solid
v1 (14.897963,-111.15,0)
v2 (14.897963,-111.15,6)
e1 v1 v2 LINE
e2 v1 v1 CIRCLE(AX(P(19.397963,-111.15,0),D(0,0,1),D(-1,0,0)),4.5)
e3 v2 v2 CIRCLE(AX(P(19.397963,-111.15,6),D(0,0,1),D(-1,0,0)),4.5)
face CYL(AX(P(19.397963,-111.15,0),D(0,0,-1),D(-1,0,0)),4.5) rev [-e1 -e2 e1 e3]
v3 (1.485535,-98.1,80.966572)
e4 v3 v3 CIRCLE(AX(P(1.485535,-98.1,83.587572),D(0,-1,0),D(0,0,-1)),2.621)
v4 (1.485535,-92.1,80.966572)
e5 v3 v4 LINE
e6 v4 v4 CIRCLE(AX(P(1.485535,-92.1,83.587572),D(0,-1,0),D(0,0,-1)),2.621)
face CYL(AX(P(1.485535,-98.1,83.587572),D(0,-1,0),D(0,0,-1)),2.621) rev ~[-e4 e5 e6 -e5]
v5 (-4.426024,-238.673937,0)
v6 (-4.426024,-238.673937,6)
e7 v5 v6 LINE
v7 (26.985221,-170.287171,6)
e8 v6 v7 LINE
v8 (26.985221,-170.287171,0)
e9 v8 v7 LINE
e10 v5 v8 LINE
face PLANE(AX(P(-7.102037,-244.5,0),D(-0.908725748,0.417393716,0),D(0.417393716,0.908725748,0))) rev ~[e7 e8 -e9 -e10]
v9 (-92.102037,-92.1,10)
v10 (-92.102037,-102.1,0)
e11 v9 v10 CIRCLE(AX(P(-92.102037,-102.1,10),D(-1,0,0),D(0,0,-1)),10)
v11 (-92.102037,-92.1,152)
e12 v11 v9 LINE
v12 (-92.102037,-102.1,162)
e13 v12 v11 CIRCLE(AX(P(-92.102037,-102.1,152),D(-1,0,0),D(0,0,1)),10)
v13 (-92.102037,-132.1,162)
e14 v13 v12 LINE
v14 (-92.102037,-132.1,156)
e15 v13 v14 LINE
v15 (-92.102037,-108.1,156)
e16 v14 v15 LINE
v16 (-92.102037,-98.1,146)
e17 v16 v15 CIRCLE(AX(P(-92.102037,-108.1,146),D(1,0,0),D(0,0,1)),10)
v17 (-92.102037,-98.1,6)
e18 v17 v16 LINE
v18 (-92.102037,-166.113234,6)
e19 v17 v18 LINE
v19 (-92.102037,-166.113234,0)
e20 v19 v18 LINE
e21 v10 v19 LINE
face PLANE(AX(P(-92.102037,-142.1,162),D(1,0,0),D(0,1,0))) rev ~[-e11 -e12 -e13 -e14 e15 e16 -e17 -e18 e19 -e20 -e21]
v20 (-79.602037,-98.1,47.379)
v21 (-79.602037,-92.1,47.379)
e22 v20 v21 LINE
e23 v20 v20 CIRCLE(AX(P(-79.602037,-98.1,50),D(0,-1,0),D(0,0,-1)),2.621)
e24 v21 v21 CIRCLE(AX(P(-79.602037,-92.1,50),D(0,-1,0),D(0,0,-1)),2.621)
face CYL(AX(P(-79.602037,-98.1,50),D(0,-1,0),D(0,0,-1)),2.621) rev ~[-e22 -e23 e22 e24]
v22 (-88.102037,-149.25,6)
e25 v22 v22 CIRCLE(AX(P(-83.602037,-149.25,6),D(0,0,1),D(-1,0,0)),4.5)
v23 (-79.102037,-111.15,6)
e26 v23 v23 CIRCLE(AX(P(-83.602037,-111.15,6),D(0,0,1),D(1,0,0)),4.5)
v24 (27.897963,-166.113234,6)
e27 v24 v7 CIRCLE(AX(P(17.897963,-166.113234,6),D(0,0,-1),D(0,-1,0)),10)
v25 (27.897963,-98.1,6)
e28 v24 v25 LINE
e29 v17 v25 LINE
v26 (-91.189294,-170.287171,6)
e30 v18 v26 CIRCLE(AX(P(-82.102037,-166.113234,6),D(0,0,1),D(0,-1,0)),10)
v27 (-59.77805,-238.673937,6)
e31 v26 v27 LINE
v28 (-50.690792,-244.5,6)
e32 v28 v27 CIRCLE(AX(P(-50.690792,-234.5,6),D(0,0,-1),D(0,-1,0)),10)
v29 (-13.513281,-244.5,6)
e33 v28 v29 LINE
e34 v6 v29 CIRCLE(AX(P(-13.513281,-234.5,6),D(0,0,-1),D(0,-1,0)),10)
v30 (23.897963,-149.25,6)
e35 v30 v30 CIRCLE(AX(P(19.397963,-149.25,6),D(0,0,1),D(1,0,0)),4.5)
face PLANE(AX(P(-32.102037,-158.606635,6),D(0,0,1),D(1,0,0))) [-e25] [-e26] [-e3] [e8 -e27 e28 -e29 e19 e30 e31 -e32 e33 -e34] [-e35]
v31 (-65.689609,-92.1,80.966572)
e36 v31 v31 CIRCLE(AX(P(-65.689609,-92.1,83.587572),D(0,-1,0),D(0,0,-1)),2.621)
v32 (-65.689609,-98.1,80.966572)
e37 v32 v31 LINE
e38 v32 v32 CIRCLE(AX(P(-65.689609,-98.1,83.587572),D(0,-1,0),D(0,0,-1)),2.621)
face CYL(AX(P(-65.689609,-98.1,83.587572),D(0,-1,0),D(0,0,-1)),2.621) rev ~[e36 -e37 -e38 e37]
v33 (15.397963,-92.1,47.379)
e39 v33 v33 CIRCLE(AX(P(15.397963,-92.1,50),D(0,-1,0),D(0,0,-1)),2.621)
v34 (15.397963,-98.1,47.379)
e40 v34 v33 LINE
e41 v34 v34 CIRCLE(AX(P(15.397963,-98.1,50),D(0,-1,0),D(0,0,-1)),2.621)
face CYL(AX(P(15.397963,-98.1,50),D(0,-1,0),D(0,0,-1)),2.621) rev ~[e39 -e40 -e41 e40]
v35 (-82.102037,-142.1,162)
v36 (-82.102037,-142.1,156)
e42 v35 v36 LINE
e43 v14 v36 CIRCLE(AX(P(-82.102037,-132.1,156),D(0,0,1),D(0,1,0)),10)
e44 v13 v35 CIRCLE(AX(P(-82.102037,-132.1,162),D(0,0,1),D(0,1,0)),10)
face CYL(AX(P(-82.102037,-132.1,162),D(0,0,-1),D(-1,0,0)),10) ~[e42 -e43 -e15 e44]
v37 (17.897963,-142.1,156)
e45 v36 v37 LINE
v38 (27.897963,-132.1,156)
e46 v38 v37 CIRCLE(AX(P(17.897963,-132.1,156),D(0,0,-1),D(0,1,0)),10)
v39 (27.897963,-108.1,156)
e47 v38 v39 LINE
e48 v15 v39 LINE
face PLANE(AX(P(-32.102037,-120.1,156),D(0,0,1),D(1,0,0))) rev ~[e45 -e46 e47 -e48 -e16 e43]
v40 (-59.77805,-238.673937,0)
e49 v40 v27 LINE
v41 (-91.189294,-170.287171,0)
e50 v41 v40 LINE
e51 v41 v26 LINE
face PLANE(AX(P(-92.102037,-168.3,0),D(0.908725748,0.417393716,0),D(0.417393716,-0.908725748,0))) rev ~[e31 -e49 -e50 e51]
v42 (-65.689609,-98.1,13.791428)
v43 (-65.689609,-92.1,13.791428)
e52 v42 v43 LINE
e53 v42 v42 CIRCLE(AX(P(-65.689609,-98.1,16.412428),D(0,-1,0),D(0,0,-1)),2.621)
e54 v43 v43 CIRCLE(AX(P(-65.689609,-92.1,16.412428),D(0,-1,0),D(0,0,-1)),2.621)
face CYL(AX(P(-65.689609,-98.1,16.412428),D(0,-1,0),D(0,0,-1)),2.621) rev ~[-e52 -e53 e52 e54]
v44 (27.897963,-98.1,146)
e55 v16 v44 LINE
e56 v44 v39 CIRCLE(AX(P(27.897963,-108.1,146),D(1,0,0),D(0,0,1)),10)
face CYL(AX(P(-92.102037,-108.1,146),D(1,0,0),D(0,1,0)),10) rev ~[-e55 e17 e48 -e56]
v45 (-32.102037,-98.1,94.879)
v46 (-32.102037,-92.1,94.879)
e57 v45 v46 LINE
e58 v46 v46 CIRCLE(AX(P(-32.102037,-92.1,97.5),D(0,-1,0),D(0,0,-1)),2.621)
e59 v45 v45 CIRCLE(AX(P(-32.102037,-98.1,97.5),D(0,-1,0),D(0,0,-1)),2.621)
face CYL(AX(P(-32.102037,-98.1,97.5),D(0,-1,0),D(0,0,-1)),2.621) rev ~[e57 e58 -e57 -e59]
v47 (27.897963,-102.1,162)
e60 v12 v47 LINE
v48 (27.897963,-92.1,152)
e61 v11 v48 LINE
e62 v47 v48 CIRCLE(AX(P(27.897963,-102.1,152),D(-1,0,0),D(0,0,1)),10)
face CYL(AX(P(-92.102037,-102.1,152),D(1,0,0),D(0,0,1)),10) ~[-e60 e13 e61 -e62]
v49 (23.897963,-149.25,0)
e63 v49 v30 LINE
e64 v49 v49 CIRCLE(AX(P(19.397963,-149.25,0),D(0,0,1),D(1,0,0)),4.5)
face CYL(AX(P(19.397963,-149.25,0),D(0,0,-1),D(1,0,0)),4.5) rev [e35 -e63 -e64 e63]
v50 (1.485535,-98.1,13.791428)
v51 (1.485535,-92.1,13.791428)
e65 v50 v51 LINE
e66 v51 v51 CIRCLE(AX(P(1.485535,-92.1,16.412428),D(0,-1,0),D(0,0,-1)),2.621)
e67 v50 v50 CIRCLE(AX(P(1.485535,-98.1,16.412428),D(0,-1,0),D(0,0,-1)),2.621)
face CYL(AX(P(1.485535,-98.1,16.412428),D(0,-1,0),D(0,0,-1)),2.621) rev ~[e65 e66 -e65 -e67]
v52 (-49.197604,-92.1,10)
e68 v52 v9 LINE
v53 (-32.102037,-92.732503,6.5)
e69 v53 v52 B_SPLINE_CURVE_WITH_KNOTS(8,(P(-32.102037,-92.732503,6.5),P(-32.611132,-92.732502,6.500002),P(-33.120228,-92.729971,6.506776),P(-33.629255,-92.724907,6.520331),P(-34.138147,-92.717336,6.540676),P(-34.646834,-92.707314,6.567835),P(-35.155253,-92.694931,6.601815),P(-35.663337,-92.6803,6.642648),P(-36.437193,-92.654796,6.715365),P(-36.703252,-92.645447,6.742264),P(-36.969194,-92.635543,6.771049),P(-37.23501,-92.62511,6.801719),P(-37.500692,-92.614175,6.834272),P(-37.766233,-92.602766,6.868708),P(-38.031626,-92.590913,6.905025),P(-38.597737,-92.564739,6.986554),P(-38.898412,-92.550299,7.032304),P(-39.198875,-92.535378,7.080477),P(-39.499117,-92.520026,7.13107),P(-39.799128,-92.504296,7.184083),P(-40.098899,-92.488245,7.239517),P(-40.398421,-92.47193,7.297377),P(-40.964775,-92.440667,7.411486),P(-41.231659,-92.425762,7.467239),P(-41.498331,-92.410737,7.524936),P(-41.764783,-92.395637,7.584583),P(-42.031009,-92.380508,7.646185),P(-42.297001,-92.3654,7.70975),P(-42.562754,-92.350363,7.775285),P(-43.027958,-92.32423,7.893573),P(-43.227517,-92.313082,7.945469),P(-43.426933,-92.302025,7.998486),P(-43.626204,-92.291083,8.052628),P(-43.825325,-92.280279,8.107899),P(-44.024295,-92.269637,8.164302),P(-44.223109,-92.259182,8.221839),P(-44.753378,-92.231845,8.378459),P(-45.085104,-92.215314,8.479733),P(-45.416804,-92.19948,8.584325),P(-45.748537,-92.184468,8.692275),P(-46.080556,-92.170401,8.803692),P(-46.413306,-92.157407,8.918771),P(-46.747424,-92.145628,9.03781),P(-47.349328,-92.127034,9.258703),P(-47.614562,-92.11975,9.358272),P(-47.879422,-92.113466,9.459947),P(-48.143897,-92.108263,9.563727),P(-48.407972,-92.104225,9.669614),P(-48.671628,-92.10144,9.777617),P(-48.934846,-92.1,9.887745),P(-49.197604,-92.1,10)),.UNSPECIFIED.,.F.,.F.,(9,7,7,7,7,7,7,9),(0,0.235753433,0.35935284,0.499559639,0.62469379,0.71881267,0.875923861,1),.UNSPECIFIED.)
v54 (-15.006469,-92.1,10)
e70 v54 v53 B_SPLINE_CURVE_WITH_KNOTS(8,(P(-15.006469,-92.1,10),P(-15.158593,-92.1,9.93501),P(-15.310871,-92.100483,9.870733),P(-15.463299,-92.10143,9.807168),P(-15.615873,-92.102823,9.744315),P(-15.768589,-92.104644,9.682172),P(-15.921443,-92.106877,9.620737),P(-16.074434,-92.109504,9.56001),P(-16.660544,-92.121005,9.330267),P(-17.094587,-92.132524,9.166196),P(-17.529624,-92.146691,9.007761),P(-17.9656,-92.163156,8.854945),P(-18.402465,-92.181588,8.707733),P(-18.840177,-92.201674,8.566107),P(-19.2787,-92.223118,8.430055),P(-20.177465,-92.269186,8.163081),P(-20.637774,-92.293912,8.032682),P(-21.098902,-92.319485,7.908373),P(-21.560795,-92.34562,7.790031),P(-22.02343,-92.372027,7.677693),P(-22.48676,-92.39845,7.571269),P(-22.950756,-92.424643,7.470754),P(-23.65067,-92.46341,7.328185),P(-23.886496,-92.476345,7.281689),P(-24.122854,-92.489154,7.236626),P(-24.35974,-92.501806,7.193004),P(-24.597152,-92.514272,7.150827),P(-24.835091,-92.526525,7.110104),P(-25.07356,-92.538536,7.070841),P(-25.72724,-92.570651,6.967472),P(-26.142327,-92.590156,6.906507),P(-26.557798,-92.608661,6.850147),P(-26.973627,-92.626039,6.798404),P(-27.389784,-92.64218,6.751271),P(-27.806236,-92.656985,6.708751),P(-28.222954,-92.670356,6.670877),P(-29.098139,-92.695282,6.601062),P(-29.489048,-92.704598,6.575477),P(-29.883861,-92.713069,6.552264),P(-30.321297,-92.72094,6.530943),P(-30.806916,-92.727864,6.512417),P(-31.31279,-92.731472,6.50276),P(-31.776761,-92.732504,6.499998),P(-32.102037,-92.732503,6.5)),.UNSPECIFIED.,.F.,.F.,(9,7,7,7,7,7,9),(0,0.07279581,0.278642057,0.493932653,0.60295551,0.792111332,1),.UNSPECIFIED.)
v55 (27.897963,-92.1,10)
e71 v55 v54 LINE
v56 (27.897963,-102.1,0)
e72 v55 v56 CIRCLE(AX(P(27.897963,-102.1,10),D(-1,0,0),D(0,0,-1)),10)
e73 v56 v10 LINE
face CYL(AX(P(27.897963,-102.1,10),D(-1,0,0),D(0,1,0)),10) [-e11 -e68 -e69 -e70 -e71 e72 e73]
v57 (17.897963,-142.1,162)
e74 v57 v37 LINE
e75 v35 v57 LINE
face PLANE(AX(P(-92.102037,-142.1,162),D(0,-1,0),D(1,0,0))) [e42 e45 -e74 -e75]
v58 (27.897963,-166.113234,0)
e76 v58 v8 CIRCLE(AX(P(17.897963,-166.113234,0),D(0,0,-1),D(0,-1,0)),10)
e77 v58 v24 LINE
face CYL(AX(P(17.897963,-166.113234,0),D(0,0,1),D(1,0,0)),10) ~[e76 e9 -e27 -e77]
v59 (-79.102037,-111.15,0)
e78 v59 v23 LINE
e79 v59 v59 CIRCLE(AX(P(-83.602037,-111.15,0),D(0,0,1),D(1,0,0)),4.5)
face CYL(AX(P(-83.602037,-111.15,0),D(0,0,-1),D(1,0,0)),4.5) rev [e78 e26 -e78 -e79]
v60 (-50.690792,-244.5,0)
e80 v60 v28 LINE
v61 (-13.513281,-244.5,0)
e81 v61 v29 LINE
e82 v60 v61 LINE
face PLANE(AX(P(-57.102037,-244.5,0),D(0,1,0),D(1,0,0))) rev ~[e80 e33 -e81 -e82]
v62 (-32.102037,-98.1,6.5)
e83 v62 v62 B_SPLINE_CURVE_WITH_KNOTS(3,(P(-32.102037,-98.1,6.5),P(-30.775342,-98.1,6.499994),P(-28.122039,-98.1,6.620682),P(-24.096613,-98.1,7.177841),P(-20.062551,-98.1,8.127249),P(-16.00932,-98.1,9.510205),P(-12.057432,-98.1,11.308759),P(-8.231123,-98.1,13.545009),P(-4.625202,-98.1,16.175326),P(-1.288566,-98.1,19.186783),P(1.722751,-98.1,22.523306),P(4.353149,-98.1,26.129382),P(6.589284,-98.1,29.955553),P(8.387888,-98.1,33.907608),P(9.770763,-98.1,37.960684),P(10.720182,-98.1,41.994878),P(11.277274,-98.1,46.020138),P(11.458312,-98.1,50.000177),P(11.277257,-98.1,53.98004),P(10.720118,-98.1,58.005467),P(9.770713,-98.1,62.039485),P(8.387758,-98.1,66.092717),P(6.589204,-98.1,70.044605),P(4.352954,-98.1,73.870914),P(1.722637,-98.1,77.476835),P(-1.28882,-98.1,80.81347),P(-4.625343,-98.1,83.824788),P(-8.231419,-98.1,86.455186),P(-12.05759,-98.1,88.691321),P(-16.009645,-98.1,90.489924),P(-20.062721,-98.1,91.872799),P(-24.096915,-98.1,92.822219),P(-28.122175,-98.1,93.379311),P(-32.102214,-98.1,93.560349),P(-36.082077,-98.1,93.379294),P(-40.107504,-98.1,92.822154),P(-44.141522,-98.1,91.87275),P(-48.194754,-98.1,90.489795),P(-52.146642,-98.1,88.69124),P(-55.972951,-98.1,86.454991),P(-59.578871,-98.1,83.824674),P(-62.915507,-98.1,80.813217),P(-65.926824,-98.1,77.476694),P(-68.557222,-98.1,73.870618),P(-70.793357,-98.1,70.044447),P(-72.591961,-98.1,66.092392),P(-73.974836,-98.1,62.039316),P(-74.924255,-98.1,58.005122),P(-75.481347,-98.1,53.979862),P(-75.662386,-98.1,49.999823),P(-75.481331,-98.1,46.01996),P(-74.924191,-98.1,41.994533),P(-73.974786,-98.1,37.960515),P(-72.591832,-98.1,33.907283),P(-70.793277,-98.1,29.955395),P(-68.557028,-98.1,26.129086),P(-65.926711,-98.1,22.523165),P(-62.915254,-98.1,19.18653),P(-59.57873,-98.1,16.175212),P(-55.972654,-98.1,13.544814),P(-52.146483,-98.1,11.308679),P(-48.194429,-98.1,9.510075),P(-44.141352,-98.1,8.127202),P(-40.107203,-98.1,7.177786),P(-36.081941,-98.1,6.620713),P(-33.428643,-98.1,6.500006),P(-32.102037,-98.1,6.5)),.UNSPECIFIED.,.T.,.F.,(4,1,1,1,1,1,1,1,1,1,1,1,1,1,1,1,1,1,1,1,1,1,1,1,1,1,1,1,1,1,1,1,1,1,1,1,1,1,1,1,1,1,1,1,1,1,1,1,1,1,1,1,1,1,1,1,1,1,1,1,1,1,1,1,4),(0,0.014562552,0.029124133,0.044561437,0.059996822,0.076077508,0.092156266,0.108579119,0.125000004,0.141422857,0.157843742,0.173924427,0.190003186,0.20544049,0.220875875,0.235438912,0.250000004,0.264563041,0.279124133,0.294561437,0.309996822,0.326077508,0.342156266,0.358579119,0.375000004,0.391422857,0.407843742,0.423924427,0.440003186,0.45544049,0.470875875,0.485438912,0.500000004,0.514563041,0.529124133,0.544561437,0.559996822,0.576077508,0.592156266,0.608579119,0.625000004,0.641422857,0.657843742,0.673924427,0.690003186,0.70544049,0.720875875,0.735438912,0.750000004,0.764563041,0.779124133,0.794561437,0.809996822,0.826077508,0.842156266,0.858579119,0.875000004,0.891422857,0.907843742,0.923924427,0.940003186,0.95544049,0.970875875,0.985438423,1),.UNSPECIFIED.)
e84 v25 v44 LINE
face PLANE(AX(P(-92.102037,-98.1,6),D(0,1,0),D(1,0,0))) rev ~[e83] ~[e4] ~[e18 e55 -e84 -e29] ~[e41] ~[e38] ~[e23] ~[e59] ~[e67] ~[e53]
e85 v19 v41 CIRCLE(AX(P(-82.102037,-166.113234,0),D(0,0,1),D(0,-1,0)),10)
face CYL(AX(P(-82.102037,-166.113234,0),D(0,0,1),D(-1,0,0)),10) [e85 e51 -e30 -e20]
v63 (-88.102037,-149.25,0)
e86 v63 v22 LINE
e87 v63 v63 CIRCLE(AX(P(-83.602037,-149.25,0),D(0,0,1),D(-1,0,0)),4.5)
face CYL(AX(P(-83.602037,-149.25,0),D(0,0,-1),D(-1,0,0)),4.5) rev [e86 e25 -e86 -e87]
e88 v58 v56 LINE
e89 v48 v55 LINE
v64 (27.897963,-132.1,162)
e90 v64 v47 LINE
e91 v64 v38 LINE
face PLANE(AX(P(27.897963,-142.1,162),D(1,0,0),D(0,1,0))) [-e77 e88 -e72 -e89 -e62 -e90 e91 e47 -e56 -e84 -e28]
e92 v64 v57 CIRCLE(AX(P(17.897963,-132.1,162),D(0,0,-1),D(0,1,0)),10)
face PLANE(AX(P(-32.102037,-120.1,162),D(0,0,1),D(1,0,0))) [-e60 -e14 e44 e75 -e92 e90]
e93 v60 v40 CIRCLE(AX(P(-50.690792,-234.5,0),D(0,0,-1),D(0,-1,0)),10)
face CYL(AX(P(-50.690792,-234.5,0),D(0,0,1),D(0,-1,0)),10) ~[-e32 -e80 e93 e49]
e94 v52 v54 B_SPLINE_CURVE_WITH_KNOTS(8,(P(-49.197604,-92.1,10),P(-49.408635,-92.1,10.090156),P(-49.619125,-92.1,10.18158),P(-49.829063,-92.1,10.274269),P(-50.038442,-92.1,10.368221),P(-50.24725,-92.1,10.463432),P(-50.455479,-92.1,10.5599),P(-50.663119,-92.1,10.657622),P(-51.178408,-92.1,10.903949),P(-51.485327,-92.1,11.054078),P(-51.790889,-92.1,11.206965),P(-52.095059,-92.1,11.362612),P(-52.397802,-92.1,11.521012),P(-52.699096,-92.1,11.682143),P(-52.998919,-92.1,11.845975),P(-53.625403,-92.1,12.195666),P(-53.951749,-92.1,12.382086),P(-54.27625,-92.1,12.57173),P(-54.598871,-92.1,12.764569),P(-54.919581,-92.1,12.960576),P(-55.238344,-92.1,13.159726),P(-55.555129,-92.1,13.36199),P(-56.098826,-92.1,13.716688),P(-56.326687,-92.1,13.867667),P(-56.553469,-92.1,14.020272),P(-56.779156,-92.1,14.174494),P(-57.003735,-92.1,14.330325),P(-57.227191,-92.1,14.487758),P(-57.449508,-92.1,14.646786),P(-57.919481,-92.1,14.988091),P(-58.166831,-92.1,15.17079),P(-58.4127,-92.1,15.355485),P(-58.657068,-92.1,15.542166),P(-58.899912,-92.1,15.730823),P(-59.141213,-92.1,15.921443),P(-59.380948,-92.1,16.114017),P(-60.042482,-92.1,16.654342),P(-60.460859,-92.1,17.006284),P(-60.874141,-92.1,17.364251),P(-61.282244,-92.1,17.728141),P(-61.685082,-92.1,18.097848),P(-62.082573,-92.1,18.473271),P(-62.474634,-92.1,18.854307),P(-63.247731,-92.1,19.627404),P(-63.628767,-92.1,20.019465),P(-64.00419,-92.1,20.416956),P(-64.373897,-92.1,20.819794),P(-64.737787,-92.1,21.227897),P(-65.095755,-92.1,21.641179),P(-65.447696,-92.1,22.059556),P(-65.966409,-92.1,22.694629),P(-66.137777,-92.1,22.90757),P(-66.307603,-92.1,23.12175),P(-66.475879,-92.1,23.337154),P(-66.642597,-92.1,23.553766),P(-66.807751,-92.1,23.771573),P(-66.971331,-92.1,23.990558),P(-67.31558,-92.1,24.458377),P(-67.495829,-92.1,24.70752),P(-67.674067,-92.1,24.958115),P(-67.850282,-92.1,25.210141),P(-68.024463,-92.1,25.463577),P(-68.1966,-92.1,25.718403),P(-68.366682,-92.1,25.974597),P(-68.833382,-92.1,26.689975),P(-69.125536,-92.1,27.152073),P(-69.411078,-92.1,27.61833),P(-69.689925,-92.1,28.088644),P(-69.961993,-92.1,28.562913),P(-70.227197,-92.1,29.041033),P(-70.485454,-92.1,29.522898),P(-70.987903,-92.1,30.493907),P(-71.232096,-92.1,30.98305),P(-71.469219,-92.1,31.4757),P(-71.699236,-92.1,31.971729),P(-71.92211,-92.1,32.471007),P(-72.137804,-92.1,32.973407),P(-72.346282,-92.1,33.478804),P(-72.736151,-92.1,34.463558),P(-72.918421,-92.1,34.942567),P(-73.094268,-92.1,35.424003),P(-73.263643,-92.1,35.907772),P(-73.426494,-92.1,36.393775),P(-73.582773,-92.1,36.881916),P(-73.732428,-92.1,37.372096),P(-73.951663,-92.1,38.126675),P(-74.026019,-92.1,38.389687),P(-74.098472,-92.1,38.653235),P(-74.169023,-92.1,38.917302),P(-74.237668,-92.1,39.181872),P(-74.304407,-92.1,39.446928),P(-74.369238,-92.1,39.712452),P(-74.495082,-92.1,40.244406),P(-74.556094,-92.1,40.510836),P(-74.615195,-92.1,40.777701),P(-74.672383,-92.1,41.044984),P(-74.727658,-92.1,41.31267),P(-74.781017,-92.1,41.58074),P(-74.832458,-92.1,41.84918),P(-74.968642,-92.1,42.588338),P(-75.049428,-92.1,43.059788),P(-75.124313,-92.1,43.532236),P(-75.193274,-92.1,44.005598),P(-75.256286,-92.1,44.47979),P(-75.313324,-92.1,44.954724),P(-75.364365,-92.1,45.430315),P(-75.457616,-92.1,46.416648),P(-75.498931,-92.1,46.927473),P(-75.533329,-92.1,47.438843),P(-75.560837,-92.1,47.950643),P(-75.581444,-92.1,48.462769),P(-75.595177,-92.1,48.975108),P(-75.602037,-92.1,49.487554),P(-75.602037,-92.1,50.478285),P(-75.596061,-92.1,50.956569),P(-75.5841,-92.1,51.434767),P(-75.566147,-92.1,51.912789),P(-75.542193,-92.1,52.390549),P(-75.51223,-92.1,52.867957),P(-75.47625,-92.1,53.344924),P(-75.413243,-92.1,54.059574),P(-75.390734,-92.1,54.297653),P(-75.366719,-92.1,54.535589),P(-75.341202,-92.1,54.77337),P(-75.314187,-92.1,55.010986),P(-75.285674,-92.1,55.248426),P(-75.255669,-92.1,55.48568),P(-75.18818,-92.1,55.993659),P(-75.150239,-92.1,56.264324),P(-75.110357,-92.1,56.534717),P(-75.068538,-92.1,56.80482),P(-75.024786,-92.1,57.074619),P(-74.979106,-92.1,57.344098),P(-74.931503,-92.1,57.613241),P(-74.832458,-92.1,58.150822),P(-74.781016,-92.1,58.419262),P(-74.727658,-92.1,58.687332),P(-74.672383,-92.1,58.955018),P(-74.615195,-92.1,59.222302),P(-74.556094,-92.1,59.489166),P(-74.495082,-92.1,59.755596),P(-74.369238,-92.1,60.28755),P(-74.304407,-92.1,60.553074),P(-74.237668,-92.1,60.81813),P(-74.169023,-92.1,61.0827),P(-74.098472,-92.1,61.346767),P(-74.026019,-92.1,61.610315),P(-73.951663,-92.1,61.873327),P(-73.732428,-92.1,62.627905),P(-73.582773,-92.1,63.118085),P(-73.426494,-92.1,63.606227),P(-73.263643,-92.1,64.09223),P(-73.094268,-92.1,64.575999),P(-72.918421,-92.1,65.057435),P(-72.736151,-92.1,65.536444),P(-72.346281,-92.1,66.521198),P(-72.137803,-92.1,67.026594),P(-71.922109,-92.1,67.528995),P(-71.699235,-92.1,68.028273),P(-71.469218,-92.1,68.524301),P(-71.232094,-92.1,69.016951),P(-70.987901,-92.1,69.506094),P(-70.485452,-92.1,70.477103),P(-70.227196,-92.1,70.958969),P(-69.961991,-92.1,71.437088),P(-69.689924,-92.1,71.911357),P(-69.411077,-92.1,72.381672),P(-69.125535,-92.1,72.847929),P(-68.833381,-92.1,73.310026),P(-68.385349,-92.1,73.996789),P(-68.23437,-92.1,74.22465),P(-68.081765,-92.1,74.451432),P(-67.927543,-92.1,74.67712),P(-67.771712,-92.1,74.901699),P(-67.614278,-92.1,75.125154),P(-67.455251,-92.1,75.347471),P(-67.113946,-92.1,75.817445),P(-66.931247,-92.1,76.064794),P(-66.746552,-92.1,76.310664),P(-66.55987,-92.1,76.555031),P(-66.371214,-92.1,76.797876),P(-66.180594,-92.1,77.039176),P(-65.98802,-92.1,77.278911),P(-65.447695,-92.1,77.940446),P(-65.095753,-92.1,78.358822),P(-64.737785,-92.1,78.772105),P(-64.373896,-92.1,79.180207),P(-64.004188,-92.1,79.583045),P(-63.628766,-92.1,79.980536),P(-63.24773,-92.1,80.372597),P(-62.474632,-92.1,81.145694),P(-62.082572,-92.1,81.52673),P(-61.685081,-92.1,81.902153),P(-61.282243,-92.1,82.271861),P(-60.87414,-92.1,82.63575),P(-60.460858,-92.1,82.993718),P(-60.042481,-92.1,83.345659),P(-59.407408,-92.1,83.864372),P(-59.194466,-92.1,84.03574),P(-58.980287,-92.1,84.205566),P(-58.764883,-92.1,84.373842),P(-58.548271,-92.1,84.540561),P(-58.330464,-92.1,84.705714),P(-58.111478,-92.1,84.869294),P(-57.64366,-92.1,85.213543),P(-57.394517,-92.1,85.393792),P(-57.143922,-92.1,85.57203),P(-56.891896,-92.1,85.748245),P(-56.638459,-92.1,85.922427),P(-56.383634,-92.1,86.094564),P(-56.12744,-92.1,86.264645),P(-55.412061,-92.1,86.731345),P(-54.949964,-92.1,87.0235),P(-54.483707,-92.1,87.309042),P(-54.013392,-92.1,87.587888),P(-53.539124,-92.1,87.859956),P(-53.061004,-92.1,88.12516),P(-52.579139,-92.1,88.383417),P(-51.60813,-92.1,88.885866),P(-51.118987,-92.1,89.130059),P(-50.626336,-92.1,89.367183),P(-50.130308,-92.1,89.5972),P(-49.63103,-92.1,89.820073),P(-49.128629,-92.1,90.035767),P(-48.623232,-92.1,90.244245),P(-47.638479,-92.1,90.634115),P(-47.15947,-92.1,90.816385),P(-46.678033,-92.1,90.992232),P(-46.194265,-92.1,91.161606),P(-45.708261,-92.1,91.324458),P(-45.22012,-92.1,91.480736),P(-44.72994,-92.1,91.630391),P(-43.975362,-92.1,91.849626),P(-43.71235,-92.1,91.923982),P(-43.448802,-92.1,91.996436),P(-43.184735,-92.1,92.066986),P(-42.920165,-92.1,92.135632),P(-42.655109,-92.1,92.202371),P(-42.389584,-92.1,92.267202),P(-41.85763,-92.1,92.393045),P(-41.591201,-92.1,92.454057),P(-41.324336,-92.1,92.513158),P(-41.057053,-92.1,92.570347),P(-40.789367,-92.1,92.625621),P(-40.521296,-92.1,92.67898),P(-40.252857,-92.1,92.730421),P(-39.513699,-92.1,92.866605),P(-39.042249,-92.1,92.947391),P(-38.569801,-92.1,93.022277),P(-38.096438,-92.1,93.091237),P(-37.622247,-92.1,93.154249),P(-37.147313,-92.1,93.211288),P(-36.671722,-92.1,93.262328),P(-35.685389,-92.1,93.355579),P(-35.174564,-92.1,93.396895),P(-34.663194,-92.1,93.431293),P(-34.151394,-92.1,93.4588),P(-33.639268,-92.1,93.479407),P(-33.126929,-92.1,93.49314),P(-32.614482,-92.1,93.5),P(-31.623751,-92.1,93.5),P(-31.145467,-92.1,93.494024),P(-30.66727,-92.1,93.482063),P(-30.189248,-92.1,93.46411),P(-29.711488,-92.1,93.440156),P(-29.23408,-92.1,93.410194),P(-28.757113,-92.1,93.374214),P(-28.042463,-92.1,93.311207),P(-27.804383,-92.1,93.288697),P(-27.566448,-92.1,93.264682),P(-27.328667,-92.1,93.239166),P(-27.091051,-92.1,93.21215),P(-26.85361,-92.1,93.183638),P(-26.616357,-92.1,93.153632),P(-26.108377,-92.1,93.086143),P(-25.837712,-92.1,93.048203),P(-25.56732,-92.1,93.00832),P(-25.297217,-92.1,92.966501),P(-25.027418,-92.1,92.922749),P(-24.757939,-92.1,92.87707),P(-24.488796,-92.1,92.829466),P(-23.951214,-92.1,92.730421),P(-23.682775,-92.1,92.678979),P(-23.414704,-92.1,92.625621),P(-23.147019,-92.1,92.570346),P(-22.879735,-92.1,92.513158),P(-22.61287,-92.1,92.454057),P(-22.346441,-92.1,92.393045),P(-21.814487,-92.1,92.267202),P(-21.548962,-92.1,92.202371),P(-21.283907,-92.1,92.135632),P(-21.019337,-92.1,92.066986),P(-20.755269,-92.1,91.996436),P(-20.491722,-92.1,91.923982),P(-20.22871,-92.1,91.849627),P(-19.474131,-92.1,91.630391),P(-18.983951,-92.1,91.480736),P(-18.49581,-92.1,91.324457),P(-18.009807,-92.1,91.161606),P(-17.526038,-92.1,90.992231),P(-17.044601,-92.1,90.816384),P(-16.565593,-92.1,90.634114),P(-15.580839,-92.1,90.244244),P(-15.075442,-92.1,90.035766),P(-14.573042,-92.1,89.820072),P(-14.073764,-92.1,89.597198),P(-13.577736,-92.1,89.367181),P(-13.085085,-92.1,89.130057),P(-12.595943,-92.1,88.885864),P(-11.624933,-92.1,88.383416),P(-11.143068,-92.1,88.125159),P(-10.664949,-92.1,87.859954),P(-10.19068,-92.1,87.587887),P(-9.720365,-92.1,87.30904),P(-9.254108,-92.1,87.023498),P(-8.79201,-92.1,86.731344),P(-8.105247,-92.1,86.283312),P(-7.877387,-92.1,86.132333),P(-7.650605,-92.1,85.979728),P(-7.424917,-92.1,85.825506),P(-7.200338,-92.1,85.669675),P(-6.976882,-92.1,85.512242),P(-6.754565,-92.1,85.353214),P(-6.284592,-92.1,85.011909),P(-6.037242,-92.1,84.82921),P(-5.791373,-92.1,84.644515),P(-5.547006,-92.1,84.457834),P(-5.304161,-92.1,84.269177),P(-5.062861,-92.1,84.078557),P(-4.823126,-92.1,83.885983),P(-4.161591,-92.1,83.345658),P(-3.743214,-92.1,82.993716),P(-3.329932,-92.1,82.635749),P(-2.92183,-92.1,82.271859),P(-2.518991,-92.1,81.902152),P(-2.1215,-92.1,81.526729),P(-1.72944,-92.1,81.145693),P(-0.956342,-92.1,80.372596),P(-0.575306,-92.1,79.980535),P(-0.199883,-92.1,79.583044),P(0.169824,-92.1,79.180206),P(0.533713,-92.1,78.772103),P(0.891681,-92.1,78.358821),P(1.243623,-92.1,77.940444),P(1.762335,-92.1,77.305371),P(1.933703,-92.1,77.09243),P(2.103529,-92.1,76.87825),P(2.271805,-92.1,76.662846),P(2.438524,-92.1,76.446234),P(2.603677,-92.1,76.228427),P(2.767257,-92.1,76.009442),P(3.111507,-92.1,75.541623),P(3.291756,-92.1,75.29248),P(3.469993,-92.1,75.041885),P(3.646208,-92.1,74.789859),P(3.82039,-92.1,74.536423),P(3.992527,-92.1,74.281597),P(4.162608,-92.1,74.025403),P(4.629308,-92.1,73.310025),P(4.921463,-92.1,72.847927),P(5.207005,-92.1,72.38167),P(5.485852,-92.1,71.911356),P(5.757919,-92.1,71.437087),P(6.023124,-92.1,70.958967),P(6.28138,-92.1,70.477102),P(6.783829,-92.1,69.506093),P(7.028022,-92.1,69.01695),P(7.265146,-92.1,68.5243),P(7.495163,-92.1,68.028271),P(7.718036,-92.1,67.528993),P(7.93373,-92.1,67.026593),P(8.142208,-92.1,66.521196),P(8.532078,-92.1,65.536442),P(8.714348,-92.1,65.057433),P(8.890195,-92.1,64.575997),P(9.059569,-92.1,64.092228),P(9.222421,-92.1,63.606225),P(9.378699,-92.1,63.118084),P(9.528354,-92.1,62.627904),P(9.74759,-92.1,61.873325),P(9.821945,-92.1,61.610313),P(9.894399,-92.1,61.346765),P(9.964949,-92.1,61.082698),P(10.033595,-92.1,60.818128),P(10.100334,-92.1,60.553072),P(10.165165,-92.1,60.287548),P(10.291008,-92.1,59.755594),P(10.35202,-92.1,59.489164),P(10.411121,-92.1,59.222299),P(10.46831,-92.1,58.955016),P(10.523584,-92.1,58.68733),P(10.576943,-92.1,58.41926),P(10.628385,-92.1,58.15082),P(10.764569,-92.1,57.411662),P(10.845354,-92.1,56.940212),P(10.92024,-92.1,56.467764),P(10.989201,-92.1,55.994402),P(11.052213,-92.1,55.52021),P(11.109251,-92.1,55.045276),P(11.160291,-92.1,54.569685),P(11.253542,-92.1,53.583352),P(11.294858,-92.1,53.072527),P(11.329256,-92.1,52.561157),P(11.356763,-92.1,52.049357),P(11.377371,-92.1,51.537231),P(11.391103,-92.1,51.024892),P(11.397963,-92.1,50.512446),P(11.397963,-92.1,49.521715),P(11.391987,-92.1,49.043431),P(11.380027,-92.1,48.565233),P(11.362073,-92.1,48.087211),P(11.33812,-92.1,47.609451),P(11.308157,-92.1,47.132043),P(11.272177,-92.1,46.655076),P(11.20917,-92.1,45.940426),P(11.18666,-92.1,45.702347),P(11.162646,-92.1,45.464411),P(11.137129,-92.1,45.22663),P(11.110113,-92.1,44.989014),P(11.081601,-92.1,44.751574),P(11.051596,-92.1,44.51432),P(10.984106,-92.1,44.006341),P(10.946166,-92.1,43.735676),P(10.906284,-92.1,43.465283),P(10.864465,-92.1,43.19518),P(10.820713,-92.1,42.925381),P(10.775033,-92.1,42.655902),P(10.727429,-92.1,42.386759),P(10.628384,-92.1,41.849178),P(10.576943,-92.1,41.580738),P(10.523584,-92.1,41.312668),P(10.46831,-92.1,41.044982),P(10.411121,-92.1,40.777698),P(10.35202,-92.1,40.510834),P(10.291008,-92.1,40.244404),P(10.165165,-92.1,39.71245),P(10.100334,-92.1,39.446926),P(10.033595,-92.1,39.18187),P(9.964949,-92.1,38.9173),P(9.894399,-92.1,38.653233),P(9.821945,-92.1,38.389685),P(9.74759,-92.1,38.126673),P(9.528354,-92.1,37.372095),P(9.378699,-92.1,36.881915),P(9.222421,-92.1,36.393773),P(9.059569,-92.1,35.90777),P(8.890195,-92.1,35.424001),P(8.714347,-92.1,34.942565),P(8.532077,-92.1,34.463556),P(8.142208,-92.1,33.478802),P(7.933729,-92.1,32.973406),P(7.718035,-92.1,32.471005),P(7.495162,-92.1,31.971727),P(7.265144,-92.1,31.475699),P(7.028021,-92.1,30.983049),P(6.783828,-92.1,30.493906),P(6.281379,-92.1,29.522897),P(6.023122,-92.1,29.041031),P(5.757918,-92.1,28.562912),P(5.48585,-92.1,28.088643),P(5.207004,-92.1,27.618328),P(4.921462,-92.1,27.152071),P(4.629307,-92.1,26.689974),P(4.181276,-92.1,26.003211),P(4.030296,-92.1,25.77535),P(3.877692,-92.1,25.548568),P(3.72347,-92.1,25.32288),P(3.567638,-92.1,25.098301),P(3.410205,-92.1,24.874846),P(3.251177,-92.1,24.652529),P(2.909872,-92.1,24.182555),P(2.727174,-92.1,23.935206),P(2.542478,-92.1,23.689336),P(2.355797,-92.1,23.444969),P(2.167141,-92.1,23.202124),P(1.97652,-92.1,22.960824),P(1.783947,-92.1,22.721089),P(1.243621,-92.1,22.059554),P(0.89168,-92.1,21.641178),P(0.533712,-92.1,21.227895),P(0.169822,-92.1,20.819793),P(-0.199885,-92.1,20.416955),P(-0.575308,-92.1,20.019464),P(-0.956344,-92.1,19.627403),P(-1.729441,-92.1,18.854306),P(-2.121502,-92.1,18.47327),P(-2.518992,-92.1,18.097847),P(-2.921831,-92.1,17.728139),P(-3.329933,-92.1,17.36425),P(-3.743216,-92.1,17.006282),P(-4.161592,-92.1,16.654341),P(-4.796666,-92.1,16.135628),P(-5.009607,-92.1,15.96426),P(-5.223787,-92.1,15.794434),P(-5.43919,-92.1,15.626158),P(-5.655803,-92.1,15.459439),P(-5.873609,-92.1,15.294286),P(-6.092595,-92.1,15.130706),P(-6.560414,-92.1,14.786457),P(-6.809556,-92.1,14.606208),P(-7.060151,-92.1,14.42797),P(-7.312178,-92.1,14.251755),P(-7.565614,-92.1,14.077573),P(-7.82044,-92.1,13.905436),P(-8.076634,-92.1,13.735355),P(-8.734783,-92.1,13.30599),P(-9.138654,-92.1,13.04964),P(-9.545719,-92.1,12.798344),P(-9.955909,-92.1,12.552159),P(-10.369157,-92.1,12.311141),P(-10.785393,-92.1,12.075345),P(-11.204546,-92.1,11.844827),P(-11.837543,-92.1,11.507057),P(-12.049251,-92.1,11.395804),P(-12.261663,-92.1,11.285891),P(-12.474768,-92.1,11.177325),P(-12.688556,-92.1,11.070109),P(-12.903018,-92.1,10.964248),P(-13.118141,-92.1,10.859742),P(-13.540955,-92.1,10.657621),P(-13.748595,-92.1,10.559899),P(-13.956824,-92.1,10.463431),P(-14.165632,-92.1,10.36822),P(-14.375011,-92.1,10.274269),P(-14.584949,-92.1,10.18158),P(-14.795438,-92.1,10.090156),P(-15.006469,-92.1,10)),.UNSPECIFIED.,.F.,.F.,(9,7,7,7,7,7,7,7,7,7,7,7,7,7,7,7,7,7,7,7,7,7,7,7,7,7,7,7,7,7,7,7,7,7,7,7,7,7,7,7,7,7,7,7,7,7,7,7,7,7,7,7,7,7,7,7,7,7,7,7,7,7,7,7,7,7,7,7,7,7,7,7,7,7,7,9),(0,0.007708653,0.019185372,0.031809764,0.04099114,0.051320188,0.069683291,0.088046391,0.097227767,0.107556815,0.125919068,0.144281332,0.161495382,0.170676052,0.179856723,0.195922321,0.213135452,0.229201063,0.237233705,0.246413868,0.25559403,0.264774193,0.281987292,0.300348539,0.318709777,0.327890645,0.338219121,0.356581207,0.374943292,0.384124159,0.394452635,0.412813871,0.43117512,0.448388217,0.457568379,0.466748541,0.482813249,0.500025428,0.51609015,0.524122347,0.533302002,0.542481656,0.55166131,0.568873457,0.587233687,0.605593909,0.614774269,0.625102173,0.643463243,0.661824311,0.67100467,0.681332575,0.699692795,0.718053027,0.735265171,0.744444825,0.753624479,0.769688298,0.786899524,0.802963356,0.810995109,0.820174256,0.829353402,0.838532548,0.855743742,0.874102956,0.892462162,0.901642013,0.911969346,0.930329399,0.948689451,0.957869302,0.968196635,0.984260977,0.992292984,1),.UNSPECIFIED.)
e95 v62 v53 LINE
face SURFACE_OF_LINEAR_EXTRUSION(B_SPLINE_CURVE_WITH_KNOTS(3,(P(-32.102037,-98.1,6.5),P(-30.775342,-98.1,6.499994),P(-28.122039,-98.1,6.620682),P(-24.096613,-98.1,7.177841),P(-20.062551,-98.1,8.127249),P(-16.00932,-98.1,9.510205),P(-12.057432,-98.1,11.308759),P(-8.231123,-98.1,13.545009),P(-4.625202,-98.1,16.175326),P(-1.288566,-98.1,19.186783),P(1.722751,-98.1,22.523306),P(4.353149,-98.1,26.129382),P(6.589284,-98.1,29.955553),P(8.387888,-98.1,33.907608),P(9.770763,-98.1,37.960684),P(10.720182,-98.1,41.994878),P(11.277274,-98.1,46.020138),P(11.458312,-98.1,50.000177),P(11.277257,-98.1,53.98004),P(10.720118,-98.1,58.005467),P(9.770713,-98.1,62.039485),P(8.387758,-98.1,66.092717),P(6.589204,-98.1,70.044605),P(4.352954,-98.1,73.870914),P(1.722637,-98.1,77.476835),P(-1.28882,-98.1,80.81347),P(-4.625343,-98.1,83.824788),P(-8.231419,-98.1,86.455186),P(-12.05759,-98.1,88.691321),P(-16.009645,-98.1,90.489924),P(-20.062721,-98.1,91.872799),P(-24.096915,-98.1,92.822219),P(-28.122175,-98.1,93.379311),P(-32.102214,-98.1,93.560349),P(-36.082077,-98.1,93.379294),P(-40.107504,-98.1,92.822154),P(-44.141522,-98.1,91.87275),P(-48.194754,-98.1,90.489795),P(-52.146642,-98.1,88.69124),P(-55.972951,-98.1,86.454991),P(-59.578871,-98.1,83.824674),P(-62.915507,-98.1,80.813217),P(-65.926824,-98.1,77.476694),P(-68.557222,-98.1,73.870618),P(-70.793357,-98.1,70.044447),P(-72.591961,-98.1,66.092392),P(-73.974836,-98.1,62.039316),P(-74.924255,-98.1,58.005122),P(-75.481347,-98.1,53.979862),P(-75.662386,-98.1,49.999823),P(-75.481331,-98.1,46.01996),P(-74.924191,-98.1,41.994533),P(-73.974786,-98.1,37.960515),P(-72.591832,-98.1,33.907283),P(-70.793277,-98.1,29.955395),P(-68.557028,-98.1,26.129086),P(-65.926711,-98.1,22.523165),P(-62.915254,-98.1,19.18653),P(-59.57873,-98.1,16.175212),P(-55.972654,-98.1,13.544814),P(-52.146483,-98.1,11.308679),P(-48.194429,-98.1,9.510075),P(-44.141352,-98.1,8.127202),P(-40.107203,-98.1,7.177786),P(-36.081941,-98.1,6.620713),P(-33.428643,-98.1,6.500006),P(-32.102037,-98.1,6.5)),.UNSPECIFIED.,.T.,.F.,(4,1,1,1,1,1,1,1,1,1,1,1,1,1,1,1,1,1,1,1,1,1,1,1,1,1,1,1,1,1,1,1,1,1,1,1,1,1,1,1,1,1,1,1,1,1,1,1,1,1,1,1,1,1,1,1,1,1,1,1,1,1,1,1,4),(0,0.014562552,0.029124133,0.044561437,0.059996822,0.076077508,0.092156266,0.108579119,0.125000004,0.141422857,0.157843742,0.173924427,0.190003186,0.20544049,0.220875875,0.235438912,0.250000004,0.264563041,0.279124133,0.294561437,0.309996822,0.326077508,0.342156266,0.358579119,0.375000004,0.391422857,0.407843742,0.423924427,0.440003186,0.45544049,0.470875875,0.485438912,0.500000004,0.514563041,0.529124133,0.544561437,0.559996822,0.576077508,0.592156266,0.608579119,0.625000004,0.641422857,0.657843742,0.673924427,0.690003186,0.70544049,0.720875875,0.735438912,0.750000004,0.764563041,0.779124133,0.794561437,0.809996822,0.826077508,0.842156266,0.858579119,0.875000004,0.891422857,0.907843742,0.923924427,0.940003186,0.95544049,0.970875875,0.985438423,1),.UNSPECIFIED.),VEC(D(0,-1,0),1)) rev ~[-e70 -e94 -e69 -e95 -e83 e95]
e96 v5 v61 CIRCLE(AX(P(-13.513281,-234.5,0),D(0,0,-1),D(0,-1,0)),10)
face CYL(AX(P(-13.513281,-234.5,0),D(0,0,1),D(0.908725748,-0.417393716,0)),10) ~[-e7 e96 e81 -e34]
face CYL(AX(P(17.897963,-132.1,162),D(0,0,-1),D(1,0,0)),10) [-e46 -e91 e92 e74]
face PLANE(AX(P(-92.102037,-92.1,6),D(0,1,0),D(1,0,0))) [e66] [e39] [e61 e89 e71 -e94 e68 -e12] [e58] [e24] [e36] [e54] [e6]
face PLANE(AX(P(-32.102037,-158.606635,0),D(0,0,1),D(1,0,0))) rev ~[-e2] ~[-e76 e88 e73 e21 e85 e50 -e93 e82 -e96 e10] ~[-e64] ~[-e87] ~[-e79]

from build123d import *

# Parameters (mm, degrees)
CROQUIS1_R              = 4.5
SALIENTE_EXTRUIR1_DEPTH = 6
CROQUIS2_W              = 120
CROQUIS2_H              = 6
SALIENTE_EXTRUIR2_DEPTH = 156
CROQUIS3_W              = 120
CROQUIS3_H              = 44
SALIENTE_EXTRUIR3_DEPTH = 6
REDONDEO1_R             = 10
CROQUIS4_R              = 2.621
CORTAR_EXTRUIR1_DEPTH   = 237.980474234


with BuildPart() as part:
    # Croquis1 → Saliente-Extruir1 (new body)
    with BuildSketch(Plane.XY):
        Polygon((-92.102036721, -168.3), (-57.102036721, -244.5), (-7.102036721, -244.5), (27.897963279, -168.3), (27.897963279, -92.1), (-92.102036721, -92.1), align=None)
        with Locations((-83.602036721, -111.15)):
            Circle(CROQUIS1_R, mode=Mode.SUBTRACT)
        with Locations(Location((-83.602036721, -149.25, 0), (0, 0, 180))):
            Circle(CROQUIS1_R, mode=Mode.SUBTRACT)
        with Locations((19.397963279, -149.25)):
            Circle(CROQUIS1_R, mode=Mode.SUBTRACT)
        with Locations(Location((19.397963279, -111.15, 0), (0, 0, 180))):
            Circle(CROQUIS1_R, mode=Mode.SUBTRACT)
    extrude(amount=SALIENTE_EXTRUIR1_DEPTH)

    # Croquis2 → Saliente-Extruir2 (add)
    with BuildSketch(Plane.XY.offset(6)):
        with Locations((-32.102036721, -95.1)):
            Rectangle(CROQUIS2_W, CROQUIS2_H)
    extrude(amount=SALIENTE_EXTRUIR2_DEPTH)

    # Croquis3 → Saliente-Extruir3 (add)
    with BuildSketch(Plane.XY.offset(162)):
        with Locations((-32.102036721, -120.1)):
            Rectangle(CROQUIS3_W, CROQUIS3_H)
    extrude(amount=-SALIENTE_EXTRUIR3_DEPTH)

    # Redondeo1
    redondeo1_edges = [part.edges().sort_by_distance(p)[0] for p in [
        (27.897963279, -168.3, 3),
        (-7.102036721, -244.5, 3),
        (-57.102036721, -244.5, 3),
        (-92.102036721, -168.3, 3),
        (-32.102036721, -92.1, 162),
        (-92.102036721, -142.1, 159),
        (-32.102036721, -98.1, 156),
        (27.897963279, -142.1, 159),
        (-32.102036721, -92.1, 0),
    ]]
    fillet(redondeo1_edges, radius=REDONDEO1_R)

    # Croquis4 → Cortar-Extruir1 (cut, through all)
    with BuildSketch(Plane.XZ.offset(98.1)):
        with Locations(Location((1.485535385, 83.587572106, 0), (0, 0, 270))):
            Circle(CROQUIS4_R)
        with Locations(Location((-65.689608828, 16.412427894, 0), (0, 0, 270))):
            Circle(CROQUIS4_R)
        with Locations(Location((15.397963279, 50, 0), (0, 0, 270))):
            Circle(CROQUIS4_R)
        with Locations(Location((1.485535385, 16.412427894, 0), (0, 0, 270))):
            Circle(CROQUIS4_R)
        with Locations(Location((-65.689608828, 83.587572106, 0), (0, 0, 270))):
            Circle(CROQUIS4_R)
        with Locations(Location((-32.102036721, 97.5, 0), (0, 0, 270))):
            Circle(CROQUIS4_R)
        with Locations(Location((-79.602036721, 50, 0), (0, 0, 270))):
            Circle(CROQUIS4_R)
        with BuildLine():
            add(Edge.make_bspline(
                [(-32.102036721, 6.5), (-30.775341976, 6.499993534), (-28.122039283, 6.620682339), (-24.096613371, 7.177840976), (-20.062551193, 8.127248902), (-16.009319538, 9.510205402), (-12.057431762, 11.308759473), (-8.231122582, 13.545008905), (-4.625202085, 16.175326085), (-1.288566333, 19.186782917), (1.722751008, 22.523306389), (4.353148795, 26.129382286), (6.589284057, 29.95555323), (8.387887512, 33.907608072), (9.770762576, 37.960684071), (10.720181934, 41.994878278), (11.277273839, 46.020137925), (11.45831212, 50.000176972), (11.277257351, 53.980039938), (10.720117639, 58.005467444), (9.770712855, 62.03948534), (8.387758304, 66.092717236), (6.589203689, 70.044604944), (4.352954406, 73.870914143), (1.722637185, 77.476834635), (-1.288819636, 80.813470389), (-4.62534311, 83.824787729), (-8.231419007, 86.455185516), (-12.057589951, 88.691320778), (-16.009644794, 90.489924234), (-20.062720792, 91.872799297), (-24.096914999, 92.822218655), (-28.122174647, 93.37931056), (-32.102213693, 93.560348842), (-36.082076659, 93.379294072), (-40.107504165, 92.82215436), (-44.141522061, 91.872749576), (-48.194753957, 90.489795025), (-52.146641666, 88.691240411), (-55.972950865, 86.454991127), (-59.578871356, 83.824673906), (-62.91550711, 80.813217085), (-65.92682445, 77.476693611), (-68.557222237, 73.870617714), (-70.7933575, 70.04444677), (-72.591960955, 66.092391928), (-73.974836018, 62.039315929), (-74.924255376, 58.005121722), (-75.481347281, 53.979862075), (-75.662385563, 49.999823028), (-75.481330794, 46.019960062), (-74.924191081, 41.994532556), (-73.974786297, 37.96051466), (-72.591831746, 33.907282764), (-70.793277132, 29.955395056), (-68.557027848, 26.129085856), (-65.926710628, 22.523165366), (-62.915253807, 19.186529609), (-59.578730331, 16.17521228), (-55.972654439, 13.544814452), (-52.146483477, 11.308679338), (-48.194428701, 9.51007534), (-44.141352462, 8.127202224), (-40.107202532, 7.177786011), (-36.081941291, 6.620713021), (-33.428642641, 6.500006466), (-32.102036721, 6.5)],
                knots=[0, 0, 0, 0, 0.014562552, 0.029124133, 0.044561437, 0.059996822, 0.076077508, 0.092156266, 0.108579119, 0.125000004, 0.141422857, 0.157843742, 0.173924427, 0.190003186, 0.20544049, 0.220875875, 0.235438912, 0.250000004, 0.264563041, 0.279124133, 0.294561437, 0.309996822, 0.326077508, 0.342156266, 0.358579119, 0.375000004, 0.391422857, 0.407843742, 0.423924427, 0.440003186, 0.45544049, 0.470875875, 0.485438912, 0.500000004, 0.514563041, 0.529124133, 0.544561437, 0.559996822, 0.576077508, 0.592156266, 0.608579119, 0.625000004, 0.641422857, 0.657843742, 0.673924427, 0.690003186, 0.70544049, 0.720875875, 0.735438912, 0.750000004, 0.764563041, 0.779124133, 0.794561437, 0.809996822, 0.826077508, 0.842156266, 0.858579119, 0.875000004, 0.891422857, 0.907843742, 0.923924427, 0.940003186, 0.95544049, 0.970875875, 0.985438423, 1, 1, 1, 1], degree=3))
        make_face()
    extrude(amount=-CORTAR_EXTRUIR1_DEPTH, mode=Mode.SUBTRACT)


solid = part.part
